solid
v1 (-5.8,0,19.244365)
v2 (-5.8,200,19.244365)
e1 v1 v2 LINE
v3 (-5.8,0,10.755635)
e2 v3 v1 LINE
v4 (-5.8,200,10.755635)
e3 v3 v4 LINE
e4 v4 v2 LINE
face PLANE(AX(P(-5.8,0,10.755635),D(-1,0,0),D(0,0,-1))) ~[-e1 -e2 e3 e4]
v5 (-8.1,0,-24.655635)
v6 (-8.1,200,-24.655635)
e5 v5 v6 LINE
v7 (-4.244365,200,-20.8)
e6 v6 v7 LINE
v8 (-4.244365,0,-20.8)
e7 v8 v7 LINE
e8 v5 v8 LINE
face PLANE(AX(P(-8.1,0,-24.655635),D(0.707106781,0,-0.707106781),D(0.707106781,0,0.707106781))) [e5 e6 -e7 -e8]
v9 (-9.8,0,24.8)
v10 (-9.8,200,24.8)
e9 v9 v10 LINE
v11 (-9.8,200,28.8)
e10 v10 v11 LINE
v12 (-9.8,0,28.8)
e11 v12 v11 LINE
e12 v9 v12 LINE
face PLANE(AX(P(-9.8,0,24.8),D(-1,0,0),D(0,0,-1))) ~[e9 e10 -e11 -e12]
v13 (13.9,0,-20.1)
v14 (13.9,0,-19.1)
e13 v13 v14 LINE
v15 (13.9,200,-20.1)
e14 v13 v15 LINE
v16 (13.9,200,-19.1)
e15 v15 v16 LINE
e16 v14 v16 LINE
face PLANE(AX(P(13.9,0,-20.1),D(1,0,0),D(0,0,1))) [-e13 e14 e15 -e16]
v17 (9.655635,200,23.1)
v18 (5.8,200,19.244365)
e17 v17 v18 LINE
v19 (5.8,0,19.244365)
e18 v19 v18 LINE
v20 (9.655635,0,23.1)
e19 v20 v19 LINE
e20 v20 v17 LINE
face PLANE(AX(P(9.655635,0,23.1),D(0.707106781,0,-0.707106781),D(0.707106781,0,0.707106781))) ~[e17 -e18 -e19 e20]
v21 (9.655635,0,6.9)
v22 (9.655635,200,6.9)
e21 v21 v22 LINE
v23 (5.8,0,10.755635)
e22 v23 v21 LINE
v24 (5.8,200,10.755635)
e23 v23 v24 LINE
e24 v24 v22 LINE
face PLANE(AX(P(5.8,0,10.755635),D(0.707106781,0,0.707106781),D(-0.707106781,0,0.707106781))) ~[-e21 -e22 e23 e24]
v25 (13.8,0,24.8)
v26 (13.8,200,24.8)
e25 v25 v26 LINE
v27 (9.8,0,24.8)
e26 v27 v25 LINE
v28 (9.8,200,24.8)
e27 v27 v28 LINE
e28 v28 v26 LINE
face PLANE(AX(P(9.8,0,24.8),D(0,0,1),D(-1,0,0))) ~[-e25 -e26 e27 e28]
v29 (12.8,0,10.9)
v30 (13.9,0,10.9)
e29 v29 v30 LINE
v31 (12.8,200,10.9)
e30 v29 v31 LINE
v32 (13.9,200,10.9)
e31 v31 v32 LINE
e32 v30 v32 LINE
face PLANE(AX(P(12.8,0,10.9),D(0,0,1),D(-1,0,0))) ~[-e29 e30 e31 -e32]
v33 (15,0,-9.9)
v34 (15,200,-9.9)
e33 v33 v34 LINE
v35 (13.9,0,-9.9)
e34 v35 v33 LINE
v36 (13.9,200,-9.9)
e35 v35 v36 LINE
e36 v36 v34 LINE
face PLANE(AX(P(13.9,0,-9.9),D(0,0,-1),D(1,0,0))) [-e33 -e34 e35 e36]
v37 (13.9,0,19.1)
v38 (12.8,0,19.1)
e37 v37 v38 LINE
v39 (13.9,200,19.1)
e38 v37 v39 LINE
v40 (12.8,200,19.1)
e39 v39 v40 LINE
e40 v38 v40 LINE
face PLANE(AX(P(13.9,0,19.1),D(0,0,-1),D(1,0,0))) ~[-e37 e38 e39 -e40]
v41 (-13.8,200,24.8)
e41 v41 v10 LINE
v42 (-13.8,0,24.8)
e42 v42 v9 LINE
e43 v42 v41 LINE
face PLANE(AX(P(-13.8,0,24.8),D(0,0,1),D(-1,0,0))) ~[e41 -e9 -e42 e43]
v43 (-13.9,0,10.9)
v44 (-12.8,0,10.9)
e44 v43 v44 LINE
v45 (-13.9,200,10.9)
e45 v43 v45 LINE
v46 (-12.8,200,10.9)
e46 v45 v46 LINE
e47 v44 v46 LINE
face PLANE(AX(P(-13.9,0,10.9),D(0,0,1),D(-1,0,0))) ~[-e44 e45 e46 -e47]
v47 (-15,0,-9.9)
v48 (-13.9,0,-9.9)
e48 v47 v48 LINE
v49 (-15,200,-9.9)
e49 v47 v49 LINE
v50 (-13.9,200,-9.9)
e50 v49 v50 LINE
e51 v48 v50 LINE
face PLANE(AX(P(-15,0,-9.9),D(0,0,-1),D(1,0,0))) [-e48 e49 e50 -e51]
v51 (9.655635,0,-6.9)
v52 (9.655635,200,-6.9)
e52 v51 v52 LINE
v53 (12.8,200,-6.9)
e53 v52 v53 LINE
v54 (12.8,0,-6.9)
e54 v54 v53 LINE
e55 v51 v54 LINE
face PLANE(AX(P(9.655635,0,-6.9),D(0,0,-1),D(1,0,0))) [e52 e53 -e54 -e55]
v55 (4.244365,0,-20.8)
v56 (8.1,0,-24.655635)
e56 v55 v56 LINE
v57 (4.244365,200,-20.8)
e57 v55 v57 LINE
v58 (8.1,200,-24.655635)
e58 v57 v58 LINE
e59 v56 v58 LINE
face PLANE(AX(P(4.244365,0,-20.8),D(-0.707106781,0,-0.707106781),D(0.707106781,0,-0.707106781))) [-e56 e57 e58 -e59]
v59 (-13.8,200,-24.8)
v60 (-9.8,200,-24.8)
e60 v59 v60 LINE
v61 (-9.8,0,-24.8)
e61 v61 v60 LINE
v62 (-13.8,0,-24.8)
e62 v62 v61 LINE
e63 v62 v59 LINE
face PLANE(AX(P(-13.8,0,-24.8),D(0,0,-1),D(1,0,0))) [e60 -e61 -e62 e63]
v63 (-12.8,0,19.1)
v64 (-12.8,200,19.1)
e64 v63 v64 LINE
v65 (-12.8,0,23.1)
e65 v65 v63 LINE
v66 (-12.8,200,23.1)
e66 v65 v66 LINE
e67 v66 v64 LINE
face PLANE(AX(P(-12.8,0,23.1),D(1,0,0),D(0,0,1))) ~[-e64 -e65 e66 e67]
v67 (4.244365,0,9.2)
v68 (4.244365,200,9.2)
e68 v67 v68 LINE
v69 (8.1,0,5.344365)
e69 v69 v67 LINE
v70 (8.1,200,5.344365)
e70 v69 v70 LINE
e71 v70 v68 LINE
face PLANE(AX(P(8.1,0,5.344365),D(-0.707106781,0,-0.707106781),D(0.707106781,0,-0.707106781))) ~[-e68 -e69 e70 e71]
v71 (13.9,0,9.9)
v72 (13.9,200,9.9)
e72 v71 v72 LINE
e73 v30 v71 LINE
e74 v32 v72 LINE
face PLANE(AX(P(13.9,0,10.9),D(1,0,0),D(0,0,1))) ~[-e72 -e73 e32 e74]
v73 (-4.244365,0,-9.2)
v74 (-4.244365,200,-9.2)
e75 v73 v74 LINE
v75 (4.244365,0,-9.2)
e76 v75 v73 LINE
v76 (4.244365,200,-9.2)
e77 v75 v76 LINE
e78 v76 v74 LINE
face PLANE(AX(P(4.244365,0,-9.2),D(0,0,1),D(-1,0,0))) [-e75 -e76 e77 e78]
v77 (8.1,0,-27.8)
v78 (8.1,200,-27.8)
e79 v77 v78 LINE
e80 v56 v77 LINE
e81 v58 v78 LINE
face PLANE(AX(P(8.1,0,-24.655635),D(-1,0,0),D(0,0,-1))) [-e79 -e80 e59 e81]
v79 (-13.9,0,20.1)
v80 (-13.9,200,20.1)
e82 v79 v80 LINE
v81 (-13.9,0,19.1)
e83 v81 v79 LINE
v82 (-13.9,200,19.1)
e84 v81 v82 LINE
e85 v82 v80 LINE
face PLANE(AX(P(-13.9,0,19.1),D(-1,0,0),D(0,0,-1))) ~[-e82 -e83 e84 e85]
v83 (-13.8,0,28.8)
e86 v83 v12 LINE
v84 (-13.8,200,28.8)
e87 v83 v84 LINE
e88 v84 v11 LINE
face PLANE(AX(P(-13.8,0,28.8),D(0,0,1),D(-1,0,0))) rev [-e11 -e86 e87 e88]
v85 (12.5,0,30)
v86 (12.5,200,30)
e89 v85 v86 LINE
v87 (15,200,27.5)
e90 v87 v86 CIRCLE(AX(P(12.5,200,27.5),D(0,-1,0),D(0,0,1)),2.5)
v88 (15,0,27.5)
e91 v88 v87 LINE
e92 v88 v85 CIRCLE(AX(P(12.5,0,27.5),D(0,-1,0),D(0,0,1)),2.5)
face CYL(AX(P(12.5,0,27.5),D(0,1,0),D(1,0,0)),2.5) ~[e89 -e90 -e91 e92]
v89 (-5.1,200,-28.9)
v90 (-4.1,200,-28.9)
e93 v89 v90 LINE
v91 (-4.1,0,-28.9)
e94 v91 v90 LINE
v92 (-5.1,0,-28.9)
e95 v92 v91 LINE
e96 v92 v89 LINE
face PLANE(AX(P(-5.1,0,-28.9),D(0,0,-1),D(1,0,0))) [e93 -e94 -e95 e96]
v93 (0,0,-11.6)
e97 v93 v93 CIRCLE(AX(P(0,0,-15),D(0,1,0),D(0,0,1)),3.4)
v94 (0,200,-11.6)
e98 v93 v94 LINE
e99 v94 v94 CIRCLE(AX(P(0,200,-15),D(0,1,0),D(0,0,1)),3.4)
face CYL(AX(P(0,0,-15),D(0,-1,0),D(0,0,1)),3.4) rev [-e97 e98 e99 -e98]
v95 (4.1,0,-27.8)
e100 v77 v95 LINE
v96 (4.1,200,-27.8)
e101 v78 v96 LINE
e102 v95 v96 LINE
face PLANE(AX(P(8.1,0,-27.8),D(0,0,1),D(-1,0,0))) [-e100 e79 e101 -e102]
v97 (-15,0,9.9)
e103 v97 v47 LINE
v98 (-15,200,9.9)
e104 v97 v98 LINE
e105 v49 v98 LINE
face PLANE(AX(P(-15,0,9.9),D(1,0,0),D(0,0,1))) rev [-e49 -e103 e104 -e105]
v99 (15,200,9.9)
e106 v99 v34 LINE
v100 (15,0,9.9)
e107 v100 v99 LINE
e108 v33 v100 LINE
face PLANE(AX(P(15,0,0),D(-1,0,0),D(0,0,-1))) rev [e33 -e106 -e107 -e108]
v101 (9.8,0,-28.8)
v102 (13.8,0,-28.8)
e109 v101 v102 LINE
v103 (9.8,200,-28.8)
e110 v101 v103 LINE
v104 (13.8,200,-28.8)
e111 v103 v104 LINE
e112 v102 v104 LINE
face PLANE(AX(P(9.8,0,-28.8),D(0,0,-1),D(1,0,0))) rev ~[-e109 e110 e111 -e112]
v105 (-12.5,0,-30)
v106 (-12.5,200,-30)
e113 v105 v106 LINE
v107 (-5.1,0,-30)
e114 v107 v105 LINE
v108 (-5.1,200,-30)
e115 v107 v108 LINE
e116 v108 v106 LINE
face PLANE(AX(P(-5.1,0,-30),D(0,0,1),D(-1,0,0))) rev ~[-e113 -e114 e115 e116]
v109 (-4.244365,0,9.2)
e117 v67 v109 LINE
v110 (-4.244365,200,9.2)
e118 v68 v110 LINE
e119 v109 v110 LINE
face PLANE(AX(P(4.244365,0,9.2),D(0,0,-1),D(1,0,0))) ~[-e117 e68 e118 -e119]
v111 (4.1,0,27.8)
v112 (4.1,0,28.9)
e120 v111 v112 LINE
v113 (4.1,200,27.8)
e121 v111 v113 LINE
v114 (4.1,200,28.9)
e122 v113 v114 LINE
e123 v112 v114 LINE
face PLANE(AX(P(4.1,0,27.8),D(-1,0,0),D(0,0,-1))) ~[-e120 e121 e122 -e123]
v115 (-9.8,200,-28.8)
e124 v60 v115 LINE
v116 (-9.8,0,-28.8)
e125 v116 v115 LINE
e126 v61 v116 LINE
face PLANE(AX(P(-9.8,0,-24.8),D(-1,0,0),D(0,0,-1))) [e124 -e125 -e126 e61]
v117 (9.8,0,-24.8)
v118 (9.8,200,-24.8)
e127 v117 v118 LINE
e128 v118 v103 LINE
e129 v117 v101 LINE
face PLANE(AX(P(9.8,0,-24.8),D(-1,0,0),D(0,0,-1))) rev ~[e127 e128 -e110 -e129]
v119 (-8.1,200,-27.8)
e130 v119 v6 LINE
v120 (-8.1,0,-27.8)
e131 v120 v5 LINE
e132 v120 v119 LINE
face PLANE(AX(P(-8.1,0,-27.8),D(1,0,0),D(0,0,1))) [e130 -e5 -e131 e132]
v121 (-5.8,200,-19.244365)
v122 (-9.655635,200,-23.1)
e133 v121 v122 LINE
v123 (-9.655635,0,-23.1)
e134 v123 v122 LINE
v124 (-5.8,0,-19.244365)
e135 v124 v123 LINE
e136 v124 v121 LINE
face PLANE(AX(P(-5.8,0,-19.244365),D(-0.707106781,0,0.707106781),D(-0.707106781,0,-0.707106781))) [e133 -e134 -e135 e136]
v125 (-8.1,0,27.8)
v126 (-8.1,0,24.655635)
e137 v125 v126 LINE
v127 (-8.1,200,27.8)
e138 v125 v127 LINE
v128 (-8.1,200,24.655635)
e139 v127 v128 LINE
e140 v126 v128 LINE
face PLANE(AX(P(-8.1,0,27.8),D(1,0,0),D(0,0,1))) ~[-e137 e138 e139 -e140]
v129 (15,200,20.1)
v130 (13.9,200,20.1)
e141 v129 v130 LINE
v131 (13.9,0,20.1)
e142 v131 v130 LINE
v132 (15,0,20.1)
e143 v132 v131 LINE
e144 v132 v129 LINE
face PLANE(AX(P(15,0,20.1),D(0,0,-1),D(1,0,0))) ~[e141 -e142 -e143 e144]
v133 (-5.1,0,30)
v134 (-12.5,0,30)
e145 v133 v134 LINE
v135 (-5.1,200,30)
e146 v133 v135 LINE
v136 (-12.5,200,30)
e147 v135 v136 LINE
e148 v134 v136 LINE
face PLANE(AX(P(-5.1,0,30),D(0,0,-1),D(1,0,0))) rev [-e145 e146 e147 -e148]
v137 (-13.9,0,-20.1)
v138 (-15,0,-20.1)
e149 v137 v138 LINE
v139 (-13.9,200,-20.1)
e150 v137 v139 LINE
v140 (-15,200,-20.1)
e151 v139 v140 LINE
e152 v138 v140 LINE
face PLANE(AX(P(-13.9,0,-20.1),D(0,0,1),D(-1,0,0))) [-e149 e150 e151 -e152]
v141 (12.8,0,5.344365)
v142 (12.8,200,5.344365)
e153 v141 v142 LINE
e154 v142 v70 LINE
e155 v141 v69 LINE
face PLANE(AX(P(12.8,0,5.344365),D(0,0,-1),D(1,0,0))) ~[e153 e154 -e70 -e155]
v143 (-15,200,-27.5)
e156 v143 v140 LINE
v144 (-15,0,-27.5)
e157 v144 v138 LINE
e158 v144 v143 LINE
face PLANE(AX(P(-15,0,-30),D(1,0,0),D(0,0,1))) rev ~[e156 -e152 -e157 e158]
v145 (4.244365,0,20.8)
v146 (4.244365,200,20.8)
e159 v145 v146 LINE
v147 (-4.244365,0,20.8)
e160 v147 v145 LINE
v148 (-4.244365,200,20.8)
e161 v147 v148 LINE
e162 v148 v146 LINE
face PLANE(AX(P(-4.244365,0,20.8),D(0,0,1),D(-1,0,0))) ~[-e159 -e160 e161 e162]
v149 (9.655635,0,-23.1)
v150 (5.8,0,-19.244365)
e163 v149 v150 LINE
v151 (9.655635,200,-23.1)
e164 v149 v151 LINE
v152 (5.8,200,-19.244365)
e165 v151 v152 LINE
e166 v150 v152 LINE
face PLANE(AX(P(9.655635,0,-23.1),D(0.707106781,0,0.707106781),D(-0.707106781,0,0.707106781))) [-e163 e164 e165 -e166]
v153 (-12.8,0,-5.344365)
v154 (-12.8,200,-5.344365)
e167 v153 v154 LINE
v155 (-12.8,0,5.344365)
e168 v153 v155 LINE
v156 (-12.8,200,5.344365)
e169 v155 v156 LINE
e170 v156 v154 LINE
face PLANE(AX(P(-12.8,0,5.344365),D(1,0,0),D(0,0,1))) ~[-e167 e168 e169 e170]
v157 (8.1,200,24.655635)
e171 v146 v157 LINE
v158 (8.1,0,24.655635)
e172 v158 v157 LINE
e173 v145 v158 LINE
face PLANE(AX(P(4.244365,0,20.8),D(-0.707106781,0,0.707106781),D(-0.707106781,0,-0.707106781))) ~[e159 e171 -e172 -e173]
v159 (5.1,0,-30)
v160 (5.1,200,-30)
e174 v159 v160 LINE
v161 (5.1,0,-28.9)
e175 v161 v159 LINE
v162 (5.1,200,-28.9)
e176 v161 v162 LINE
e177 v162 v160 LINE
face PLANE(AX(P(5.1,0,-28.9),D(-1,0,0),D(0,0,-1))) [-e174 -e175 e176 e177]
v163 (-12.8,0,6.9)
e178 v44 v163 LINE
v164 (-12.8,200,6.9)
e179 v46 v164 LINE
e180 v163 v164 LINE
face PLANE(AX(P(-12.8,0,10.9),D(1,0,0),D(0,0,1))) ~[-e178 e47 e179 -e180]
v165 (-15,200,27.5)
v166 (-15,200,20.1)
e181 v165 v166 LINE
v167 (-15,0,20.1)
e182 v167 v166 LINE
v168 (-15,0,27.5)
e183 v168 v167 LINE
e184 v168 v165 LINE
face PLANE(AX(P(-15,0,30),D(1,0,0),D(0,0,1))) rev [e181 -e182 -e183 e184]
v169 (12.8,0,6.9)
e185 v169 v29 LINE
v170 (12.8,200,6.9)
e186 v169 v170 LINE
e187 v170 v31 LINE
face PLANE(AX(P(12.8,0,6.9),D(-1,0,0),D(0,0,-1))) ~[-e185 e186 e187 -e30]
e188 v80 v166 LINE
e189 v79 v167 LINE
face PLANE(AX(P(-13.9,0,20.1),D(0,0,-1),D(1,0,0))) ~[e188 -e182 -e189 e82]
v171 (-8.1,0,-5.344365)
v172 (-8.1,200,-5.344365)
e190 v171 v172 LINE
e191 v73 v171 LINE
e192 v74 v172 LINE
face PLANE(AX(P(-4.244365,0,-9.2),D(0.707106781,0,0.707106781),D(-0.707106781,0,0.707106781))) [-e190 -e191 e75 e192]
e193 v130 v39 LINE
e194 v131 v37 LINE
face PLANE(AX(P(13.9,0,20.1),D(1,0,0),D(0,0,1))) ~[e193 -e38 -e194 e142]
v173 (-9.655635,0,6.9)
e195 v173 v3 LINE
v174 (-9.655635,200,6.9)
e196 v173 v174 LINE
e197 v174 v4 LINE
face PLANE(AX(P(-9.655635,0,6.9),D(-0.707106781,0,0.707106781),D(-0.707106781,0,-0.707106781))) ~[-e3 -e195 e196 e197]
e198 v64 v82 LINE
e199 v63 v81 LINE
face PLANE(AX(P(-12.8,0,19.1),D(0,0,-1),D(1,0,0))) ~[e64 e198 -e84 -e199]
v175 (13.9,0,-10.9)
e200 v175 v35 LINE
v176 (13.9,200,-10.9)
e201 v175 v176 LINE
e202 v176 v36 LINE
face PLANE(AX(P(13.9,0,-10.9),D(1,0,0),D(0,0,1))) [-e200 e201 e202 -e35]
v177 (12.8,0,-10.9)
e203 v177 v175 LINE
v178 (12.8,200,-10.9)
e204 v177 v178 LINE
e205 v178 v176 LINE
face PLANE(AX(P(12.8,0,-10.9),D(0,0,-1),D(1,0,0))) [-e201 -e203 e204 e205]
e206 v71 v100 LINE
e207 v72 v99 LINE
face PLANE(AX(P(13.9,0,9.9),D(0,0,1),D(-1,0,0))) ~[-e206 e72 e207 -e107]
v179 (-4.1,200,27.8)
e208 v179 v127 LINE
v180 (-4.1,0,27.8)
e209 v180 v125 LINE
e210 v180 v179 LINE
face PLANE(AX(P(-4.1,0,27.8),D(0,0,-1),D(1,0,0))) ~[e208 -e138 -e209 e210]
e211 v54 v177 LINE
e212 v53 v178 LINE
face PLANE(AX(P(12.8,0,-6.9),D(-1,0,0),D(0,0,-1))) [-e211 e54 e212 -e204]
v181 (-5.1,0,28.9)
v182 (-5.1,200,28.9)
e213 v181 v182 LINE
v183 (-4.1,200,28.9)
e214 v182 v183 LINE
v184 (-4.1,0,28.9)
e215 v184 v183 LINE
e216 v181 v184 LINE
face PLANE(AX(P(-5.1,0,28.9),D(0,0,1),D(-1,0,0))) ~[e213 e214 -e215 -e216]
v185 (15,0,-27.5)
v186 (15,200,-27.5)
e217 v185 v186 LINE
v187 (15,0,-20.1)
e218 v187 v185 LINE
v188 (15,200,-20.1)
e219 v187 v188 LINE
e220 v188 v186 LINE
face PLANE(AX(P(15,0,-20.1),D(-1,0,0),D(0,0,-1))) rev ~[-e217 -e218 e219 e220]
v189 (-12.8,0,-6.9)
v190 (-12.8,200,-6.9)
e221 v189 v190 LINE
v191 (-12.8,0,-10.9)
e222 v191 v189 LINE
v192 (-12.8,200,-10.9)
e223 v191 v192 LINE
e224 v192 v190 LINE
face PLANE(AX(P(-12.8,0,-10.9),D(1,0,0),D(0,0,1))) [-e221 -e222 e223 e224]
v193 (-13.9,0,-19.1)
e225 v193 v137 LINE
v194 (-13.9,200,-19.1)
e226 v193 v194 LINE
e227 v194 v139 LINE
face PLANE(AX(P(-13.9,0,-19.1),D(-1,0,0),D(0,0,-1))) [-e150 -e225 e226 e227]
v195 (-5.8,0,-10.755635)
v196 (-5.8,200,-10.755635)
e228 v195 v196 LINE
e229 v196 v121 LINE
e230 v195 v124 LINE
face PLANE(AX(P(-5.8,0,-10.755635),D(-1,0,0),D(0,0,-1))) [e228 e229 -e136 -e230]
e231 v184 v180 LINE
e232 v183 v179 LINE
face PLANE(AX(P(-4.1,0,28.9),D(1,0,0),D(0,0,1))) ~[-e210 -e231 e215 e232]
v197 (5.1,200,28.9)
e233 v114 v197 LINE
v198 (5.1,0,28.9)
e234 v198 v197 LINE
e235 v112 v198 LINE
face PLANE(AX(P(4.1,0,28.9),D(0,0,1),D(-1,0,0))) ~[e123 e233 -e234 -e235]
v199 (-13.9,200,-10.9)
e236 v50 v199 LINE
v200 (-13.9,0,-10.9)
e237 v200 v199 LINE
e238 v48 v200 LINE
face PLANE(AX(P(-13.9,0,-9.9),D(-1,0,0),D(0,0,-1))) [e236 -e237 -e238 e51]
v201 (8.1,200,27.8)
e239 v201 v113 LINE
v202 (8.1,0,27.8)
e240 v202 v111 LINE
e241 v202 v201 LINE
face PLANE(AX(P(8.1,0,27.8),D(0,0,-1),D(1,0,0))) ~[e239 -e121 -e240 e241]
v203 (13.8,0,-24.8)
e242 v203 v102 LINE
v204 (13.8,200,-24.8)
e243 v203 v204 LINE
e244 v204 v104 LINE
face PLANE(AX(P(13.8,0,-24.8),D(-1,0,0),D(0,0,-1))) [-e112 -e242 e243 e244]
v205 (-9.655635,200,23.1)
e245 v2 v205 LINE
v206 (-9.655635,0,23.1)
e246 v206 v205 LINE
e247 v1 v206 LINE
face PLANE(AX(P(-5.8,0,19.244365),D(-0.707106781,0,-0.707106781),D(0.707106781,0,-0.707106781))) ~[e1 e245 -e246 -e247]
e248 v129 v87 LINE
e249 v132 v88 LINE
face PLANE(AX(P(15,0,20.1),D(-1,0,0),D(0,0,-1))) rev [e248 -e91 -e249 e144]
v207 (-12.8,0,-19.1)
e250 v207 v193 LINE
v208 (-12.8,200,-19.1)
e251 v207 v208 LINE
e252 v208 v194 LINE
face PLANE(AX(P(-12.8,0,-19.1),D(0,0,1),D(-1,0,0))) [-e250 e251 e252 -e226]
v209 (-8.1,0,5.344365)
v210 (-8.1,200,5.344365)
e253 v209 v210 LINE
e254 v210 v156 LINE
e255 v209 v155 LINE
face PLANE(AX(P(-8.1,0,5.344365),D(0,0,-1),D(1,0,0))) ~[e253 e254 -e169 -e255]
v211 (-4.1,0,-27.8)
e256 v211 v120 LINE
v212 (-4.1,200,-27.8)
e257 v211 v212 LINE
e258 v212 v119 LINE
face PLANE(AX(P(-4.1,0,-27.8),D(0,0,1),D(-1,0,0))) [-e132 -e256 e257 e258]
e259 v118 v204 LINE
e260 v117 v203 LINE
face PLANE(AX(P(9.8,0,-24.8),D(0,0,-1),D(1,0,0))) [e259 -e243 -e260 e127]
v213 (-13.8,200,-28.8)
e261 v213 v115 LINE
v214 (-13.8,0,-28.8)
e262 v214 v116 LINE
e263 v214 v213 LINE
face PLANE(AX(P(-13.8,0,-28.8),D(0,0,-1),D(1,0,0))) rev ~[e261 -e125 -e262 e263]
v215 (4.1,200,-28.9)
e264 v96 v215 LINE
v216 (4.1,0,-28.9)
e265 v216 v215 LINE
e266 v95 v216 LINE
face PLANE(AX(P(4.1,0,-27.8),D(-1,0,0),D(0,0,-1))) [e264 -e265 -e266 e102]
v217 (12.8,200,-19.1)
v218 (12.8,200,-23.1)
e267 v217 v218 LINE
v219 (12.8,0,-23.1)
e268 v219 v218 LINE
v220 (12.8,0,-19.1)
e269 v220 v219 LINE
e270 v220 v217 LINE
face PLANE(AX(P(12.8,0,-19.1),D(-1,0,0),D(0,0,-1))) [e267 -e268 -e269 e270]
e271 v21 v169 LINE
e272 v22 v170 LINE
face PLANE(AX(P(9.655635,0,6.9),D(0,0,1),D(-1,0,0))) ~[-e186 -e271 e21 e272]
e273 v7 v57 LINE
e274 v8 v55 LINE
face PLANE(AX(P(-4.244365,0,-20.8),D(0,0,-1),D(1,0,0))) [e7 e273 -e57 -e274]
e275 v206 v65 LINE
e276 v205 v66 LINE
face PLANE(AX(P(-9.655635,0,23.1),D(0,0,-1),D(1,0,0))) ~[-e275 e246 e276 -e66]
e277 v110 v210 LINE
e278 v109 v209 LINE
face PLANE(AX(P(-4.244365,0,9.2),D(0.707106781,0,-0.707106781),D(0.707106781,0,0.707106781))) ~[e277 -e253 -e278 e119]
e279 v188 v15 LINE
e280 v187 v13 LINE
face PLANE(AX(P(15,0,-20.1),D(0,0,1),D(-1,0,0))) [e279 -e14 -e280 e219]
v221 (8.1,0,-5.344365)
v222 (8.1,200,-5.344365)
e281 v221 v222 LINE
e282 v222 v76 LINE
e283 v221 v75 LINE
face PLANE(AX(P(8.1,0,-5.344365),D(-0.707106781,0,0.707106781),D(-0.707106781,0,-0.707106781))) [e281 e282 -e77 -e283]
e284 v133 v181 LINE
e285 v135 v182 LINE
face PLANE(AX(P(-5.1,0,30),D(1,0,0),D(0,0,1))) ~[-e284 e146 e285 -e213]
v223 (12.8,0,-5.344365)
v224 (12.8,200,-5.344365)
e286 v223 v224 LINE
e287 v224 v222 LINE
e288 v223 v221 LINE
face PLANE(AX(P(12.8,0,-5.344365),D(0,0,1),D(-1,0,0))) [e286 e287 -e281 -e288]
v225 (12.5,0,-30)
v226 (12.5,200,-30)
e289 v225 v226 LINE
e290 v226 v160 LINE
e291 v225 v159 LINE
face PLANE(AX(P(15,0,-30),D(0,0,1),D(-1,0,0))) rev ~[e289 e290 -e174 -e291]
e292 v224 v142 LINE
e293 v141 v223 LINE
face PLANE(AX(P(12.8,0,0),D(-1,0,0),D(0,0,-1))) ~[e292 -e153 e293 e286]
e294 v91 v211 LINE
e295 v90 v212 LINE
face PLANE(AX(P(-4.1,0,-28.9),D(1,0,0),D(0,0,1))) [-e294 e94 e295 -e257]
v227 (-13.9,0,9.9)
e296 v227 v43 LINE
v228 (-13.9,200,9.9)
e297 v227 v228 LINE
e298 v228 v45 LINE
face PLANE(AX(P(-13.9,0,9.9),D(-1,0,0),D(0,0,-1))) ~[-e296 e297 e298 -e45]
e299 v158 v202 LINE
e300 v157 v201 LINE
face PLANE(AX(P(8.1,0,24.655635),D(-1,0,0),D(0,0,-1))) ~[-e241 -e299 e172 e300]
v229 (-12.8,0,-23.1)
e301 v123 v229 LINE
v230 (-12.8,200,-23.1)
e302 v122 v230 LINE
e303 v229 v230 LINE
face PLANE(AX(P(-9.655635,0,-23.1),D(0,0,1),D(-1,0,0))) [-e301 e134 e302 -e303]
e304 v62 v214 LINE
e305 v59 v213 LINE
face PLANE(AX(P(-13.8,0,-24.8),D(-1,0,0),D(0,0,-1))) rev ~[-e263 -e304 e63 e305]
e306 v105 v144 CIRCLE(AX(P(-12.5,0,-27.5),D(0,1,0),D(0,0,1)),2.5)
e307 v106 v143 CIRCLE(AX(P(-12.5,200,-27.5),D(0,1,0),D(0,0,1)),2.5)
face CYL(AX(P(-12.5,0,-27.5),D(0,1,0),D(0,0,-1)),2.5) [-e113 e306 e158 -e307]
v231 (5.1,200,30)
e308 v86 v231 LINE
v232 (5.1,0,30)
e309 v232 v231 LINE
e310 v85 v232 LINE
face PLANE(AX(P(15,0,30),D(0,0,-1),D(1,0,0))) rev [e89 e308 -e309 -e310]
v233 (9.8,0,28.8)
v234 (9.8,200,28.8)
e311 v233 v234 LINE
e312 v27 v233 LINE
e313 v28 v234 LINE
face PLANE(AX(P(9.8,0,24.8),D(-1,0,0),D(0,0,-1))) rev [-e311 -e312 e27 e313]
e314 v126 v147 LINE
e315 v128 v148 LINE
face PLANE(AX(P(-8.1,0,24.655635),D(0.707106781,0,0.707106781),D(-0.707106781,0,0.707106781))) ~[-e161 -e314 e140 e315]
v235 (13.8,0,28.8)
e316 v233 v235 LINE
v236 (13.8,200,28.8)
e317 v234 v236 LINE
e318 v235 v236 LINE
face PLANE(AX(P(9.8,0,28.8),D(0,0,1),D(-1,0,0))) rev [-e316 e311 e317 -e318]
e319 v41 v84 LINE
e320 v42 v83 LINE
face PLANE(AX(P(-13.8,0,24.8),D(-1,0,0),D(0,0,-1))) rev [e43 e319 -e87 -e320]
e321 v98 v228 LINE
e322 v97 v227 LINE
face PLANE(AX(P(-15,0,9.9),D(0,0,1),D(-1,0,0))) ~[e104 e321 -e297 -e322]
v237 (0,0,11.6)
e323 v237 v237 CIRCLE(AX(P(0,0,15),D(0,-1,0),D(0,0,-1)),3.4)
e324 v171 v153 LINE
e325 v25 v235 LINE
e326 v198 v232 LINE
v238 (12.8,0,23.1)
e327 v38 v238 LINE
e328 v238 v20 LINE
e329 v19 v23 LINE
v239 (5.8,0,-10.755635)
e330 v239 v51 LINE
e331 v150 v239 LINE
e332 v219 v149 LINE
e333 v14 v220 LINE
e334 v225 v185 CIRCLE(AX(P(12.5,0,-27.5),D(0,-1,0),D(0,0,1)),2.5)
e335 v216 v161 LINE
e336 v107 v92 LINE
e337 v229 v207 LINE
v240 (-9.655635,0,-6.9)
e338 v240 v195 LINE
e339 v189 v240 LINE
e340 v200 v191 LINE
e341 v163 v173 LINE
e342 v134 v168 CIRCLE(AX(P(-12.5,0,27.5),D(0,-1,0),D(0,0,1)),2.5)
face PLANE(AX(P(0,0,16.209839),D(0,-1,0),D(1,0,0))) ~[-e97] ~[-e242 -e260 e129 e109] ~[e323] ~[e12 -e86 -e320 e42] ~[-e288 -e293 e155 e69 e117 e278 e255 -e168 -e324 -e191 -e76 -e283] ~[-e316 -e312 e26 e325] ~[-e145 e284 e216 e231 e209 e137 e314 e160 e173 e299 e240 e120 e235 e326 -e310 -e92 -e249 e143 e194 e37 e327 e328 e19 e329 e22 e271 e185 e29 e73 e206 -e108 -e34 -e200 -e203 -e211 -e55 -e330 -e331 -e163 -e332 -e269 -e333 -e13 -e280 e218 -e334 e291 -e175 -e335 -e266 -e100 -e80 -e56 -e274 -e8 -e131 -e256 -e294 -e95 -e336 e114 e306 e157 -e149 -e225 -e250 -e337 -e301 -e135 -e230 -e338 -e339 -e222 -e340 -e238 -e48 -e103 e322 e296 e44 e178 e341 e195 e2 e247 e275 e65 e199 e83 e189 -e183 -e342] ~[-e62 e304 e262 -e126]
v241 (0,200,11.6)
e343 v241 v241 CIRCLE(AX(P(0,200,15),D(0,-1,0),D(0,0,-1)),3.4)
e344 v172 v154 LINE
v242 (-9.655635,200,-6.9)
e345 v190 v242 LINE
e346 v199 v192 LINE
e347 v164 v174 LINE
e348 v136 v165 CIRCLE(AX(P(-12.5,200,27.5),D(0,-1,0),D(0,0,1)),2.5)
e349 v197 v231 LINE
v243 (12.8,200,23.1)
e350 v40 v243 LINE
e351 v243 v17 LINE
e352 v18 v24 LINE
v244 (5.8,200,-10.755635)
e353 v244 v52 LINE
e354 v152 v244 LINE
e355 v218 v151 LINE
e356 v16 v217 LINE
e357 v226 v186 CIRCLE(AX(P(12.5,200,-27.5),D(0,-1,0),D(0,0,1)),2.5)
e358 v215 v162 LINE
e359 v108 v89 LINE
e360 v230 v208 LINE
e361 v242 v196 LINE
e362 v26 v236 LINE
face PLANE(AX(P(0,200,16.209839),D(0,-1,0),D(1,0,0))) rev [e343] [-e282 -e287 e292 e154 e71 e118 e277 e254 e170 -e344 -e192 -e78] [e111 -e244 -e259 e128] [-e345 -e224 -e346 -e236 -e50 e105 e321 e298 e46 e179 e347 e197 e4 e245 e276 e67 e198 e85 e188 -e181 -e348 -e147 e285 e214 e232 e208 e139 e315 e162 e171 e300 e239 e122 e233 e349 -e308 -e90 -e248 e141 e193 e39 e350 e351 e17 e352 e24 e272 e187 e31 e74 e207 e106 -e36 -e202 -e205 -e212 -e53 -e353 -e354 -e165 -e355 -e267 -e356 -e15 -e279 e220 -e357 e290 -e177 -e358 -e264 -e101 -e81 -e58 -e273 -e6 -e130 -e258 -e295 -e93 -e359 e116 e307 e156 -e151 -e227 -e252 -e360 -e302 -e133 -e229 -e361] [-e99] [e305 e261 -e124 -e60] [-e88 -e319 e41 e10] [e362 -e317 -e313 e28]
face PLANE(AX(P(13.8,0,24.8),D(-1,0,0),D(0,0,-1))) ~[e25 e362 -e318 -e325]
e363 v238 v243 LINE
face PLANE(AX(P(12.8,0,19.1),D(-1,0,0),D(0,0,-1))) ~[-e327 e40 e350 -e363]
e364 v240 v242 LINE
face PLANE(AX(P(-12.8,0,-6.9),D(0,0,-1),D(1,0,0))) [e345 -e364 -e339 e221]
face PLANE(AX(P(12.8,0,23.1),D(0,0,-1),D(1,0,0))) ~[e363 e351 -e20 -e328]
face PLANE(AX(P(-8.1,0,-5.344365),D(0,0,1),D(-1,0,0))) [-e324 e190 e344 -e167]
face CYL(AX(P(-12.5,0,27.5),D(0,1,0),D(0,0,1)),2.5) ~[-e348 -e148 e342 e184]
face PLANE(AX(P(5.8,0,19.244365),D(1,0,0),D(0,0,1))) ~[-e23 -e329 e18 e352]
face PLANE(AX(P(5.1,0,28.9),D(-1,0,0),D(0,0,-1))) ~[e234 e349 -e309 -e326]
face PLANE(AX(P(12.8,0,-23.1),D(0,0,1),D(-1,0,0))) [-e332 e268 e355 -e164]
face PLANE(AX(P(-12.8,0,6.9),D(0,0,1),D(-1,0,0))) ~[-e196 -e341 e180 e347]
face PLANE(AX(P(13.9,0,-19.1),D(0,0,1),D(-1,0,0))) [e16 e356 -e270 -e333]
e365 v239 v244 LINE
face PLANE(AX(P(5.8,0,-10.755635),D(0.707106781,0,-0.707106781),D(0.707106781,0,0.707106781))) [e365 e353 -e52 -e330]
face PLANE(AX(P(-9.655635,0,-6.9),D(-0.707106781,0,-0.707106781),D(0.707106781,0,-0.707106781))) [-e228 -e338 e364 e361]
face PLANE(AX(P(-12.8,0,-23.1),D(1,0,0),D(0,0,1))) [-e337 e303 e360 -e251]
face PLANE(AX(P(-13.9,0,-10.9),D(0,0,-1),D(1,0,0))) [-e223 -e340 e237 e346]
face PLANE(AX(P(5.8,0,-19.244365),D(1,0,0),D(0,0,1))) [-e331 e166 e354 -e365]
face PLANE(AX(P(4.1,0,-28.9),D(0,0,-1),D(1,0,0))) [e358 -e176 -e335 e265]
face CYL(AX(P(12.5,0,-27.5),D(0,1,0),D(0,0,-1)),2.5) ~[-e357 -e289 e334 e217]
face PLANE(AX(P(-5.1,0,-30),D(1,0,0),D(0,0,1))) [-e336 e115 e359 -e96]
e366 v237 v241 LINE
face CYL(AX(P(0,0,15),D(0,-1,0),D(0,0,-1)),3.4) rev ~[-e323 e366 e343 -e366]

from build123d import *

# Parameters (mm, degrees)
SKETCH1_R            = 3.4
SKETCH1_W            = 4
SKETCH1_H            = 4
BOSS_EXTRUDE1_DEPTH  = 200
FILLET1_R            = 2.5
FILLET1_OF_MIRROR1_R = 2.5


with BuildPart() as part:
    # Sketch1 → Boss-Extrude1 (new body)
    with BuildSketch(Plane(origin=(0, 0, 0), x_dir=(1, 0, 0), z_dir=(0, 1, 0))):
        Polygon((-4.244365081, 20.8), (4.244365081, 20.8), (8.1, 24.655634919), (8.1, 27.8), (4.1, 27.8), (4.1, 28.9), (5.1, 28.9), (5.1, 30), (13.444365081, 30), (15, 30), (15, 28.444365081), (15, 20.1), (13.9, 20.1), (13.9, 19.1), (12.8, 19.1), (12.8, 23.1), (9.655634919, 23.1), (5.8, 19.244365081), (5.8, 10.755634919), (9.655634919, 6.9), (12.8, 6.9), (12.8, 10.9), (13.9, 10.9), (13.9, 9.9), (15, 9.9), (15, 1.555634919), (15, 0), (13.444365081, 0), (12.8, 0), (12.8, 5.344365081), (8.1, 5.344365081), (4.244365081, 9.2), (-4.244365081, 9.2), (-8.1, 5.344365081), (-12.8, 5.344365081), (-12.8, 0), (-13.444365081, 0), (-15, 0), (-15, 1.555634919), (-15, 9.9), (-13.9, 9.9), (-13.9, 10.9), (-12.8, 10.9), (-12.8, 6.9), (-9.655634919, 6.9), (-5.8, 10.755634919), (-5.8, 19.244365081), (-9.655634919, 23.1), (-12.8, 23.1), (-12.8, 19.1), (-13.9, 19.1), (-13.9, 20.1), (-15, 20.1), (-15, 28.444365081), (-15, 30), (-13.444365081, 30), (-5.1, 30), (-5.1, 28.9), (-4.1, 28.9), (-4.1, 27.8), (-8.1, 27.8), (-8.1, 24.655634919), align=None)
        with Locations(Location((0, 15, 0), (0, 0, 270))):
            Circle(SKETCH1_R, mode=Mode.SUBTRACT)
        with Locations((11.8, 26.8)):
            Rectangle(SKETCH1_W, SKETCH1_H, mode=Mode.SUBTRACT)
        with Locations((-11.8, 26.8)):
            Rectangle(SKETCH1_W, SKETCH1_H, mode=Mode.SUBTRACT)
    boss_extrude1 = extrude(amount=BOSS_EXTRUDE1_DEPTH)

    # Fillet1
    fillet1_edges = [part.edges().sort_by_distance(p)[0] for p in [
        (15, 100, -30),
        (-15, 100, -30),
    ]]
    fillet(fillet1_edges, radius=FILLET1_R)

    # Mirror1: Boss-Extrude1 across plane
    add(boss_extrude1.mirror(Plane.XY))

    # Fillet1 of Mirror1
    fillet1_of_mirror1_edges = [part.edges().sort_by_distance(p)[0] for p in [
        (15, 100, 30),
        (-15, 100, 30),
    ]]
    fillet(fillet1_of_mirror1_edges, radius=FILLET1_OF_MIRROR1_R)


solid = part.part
